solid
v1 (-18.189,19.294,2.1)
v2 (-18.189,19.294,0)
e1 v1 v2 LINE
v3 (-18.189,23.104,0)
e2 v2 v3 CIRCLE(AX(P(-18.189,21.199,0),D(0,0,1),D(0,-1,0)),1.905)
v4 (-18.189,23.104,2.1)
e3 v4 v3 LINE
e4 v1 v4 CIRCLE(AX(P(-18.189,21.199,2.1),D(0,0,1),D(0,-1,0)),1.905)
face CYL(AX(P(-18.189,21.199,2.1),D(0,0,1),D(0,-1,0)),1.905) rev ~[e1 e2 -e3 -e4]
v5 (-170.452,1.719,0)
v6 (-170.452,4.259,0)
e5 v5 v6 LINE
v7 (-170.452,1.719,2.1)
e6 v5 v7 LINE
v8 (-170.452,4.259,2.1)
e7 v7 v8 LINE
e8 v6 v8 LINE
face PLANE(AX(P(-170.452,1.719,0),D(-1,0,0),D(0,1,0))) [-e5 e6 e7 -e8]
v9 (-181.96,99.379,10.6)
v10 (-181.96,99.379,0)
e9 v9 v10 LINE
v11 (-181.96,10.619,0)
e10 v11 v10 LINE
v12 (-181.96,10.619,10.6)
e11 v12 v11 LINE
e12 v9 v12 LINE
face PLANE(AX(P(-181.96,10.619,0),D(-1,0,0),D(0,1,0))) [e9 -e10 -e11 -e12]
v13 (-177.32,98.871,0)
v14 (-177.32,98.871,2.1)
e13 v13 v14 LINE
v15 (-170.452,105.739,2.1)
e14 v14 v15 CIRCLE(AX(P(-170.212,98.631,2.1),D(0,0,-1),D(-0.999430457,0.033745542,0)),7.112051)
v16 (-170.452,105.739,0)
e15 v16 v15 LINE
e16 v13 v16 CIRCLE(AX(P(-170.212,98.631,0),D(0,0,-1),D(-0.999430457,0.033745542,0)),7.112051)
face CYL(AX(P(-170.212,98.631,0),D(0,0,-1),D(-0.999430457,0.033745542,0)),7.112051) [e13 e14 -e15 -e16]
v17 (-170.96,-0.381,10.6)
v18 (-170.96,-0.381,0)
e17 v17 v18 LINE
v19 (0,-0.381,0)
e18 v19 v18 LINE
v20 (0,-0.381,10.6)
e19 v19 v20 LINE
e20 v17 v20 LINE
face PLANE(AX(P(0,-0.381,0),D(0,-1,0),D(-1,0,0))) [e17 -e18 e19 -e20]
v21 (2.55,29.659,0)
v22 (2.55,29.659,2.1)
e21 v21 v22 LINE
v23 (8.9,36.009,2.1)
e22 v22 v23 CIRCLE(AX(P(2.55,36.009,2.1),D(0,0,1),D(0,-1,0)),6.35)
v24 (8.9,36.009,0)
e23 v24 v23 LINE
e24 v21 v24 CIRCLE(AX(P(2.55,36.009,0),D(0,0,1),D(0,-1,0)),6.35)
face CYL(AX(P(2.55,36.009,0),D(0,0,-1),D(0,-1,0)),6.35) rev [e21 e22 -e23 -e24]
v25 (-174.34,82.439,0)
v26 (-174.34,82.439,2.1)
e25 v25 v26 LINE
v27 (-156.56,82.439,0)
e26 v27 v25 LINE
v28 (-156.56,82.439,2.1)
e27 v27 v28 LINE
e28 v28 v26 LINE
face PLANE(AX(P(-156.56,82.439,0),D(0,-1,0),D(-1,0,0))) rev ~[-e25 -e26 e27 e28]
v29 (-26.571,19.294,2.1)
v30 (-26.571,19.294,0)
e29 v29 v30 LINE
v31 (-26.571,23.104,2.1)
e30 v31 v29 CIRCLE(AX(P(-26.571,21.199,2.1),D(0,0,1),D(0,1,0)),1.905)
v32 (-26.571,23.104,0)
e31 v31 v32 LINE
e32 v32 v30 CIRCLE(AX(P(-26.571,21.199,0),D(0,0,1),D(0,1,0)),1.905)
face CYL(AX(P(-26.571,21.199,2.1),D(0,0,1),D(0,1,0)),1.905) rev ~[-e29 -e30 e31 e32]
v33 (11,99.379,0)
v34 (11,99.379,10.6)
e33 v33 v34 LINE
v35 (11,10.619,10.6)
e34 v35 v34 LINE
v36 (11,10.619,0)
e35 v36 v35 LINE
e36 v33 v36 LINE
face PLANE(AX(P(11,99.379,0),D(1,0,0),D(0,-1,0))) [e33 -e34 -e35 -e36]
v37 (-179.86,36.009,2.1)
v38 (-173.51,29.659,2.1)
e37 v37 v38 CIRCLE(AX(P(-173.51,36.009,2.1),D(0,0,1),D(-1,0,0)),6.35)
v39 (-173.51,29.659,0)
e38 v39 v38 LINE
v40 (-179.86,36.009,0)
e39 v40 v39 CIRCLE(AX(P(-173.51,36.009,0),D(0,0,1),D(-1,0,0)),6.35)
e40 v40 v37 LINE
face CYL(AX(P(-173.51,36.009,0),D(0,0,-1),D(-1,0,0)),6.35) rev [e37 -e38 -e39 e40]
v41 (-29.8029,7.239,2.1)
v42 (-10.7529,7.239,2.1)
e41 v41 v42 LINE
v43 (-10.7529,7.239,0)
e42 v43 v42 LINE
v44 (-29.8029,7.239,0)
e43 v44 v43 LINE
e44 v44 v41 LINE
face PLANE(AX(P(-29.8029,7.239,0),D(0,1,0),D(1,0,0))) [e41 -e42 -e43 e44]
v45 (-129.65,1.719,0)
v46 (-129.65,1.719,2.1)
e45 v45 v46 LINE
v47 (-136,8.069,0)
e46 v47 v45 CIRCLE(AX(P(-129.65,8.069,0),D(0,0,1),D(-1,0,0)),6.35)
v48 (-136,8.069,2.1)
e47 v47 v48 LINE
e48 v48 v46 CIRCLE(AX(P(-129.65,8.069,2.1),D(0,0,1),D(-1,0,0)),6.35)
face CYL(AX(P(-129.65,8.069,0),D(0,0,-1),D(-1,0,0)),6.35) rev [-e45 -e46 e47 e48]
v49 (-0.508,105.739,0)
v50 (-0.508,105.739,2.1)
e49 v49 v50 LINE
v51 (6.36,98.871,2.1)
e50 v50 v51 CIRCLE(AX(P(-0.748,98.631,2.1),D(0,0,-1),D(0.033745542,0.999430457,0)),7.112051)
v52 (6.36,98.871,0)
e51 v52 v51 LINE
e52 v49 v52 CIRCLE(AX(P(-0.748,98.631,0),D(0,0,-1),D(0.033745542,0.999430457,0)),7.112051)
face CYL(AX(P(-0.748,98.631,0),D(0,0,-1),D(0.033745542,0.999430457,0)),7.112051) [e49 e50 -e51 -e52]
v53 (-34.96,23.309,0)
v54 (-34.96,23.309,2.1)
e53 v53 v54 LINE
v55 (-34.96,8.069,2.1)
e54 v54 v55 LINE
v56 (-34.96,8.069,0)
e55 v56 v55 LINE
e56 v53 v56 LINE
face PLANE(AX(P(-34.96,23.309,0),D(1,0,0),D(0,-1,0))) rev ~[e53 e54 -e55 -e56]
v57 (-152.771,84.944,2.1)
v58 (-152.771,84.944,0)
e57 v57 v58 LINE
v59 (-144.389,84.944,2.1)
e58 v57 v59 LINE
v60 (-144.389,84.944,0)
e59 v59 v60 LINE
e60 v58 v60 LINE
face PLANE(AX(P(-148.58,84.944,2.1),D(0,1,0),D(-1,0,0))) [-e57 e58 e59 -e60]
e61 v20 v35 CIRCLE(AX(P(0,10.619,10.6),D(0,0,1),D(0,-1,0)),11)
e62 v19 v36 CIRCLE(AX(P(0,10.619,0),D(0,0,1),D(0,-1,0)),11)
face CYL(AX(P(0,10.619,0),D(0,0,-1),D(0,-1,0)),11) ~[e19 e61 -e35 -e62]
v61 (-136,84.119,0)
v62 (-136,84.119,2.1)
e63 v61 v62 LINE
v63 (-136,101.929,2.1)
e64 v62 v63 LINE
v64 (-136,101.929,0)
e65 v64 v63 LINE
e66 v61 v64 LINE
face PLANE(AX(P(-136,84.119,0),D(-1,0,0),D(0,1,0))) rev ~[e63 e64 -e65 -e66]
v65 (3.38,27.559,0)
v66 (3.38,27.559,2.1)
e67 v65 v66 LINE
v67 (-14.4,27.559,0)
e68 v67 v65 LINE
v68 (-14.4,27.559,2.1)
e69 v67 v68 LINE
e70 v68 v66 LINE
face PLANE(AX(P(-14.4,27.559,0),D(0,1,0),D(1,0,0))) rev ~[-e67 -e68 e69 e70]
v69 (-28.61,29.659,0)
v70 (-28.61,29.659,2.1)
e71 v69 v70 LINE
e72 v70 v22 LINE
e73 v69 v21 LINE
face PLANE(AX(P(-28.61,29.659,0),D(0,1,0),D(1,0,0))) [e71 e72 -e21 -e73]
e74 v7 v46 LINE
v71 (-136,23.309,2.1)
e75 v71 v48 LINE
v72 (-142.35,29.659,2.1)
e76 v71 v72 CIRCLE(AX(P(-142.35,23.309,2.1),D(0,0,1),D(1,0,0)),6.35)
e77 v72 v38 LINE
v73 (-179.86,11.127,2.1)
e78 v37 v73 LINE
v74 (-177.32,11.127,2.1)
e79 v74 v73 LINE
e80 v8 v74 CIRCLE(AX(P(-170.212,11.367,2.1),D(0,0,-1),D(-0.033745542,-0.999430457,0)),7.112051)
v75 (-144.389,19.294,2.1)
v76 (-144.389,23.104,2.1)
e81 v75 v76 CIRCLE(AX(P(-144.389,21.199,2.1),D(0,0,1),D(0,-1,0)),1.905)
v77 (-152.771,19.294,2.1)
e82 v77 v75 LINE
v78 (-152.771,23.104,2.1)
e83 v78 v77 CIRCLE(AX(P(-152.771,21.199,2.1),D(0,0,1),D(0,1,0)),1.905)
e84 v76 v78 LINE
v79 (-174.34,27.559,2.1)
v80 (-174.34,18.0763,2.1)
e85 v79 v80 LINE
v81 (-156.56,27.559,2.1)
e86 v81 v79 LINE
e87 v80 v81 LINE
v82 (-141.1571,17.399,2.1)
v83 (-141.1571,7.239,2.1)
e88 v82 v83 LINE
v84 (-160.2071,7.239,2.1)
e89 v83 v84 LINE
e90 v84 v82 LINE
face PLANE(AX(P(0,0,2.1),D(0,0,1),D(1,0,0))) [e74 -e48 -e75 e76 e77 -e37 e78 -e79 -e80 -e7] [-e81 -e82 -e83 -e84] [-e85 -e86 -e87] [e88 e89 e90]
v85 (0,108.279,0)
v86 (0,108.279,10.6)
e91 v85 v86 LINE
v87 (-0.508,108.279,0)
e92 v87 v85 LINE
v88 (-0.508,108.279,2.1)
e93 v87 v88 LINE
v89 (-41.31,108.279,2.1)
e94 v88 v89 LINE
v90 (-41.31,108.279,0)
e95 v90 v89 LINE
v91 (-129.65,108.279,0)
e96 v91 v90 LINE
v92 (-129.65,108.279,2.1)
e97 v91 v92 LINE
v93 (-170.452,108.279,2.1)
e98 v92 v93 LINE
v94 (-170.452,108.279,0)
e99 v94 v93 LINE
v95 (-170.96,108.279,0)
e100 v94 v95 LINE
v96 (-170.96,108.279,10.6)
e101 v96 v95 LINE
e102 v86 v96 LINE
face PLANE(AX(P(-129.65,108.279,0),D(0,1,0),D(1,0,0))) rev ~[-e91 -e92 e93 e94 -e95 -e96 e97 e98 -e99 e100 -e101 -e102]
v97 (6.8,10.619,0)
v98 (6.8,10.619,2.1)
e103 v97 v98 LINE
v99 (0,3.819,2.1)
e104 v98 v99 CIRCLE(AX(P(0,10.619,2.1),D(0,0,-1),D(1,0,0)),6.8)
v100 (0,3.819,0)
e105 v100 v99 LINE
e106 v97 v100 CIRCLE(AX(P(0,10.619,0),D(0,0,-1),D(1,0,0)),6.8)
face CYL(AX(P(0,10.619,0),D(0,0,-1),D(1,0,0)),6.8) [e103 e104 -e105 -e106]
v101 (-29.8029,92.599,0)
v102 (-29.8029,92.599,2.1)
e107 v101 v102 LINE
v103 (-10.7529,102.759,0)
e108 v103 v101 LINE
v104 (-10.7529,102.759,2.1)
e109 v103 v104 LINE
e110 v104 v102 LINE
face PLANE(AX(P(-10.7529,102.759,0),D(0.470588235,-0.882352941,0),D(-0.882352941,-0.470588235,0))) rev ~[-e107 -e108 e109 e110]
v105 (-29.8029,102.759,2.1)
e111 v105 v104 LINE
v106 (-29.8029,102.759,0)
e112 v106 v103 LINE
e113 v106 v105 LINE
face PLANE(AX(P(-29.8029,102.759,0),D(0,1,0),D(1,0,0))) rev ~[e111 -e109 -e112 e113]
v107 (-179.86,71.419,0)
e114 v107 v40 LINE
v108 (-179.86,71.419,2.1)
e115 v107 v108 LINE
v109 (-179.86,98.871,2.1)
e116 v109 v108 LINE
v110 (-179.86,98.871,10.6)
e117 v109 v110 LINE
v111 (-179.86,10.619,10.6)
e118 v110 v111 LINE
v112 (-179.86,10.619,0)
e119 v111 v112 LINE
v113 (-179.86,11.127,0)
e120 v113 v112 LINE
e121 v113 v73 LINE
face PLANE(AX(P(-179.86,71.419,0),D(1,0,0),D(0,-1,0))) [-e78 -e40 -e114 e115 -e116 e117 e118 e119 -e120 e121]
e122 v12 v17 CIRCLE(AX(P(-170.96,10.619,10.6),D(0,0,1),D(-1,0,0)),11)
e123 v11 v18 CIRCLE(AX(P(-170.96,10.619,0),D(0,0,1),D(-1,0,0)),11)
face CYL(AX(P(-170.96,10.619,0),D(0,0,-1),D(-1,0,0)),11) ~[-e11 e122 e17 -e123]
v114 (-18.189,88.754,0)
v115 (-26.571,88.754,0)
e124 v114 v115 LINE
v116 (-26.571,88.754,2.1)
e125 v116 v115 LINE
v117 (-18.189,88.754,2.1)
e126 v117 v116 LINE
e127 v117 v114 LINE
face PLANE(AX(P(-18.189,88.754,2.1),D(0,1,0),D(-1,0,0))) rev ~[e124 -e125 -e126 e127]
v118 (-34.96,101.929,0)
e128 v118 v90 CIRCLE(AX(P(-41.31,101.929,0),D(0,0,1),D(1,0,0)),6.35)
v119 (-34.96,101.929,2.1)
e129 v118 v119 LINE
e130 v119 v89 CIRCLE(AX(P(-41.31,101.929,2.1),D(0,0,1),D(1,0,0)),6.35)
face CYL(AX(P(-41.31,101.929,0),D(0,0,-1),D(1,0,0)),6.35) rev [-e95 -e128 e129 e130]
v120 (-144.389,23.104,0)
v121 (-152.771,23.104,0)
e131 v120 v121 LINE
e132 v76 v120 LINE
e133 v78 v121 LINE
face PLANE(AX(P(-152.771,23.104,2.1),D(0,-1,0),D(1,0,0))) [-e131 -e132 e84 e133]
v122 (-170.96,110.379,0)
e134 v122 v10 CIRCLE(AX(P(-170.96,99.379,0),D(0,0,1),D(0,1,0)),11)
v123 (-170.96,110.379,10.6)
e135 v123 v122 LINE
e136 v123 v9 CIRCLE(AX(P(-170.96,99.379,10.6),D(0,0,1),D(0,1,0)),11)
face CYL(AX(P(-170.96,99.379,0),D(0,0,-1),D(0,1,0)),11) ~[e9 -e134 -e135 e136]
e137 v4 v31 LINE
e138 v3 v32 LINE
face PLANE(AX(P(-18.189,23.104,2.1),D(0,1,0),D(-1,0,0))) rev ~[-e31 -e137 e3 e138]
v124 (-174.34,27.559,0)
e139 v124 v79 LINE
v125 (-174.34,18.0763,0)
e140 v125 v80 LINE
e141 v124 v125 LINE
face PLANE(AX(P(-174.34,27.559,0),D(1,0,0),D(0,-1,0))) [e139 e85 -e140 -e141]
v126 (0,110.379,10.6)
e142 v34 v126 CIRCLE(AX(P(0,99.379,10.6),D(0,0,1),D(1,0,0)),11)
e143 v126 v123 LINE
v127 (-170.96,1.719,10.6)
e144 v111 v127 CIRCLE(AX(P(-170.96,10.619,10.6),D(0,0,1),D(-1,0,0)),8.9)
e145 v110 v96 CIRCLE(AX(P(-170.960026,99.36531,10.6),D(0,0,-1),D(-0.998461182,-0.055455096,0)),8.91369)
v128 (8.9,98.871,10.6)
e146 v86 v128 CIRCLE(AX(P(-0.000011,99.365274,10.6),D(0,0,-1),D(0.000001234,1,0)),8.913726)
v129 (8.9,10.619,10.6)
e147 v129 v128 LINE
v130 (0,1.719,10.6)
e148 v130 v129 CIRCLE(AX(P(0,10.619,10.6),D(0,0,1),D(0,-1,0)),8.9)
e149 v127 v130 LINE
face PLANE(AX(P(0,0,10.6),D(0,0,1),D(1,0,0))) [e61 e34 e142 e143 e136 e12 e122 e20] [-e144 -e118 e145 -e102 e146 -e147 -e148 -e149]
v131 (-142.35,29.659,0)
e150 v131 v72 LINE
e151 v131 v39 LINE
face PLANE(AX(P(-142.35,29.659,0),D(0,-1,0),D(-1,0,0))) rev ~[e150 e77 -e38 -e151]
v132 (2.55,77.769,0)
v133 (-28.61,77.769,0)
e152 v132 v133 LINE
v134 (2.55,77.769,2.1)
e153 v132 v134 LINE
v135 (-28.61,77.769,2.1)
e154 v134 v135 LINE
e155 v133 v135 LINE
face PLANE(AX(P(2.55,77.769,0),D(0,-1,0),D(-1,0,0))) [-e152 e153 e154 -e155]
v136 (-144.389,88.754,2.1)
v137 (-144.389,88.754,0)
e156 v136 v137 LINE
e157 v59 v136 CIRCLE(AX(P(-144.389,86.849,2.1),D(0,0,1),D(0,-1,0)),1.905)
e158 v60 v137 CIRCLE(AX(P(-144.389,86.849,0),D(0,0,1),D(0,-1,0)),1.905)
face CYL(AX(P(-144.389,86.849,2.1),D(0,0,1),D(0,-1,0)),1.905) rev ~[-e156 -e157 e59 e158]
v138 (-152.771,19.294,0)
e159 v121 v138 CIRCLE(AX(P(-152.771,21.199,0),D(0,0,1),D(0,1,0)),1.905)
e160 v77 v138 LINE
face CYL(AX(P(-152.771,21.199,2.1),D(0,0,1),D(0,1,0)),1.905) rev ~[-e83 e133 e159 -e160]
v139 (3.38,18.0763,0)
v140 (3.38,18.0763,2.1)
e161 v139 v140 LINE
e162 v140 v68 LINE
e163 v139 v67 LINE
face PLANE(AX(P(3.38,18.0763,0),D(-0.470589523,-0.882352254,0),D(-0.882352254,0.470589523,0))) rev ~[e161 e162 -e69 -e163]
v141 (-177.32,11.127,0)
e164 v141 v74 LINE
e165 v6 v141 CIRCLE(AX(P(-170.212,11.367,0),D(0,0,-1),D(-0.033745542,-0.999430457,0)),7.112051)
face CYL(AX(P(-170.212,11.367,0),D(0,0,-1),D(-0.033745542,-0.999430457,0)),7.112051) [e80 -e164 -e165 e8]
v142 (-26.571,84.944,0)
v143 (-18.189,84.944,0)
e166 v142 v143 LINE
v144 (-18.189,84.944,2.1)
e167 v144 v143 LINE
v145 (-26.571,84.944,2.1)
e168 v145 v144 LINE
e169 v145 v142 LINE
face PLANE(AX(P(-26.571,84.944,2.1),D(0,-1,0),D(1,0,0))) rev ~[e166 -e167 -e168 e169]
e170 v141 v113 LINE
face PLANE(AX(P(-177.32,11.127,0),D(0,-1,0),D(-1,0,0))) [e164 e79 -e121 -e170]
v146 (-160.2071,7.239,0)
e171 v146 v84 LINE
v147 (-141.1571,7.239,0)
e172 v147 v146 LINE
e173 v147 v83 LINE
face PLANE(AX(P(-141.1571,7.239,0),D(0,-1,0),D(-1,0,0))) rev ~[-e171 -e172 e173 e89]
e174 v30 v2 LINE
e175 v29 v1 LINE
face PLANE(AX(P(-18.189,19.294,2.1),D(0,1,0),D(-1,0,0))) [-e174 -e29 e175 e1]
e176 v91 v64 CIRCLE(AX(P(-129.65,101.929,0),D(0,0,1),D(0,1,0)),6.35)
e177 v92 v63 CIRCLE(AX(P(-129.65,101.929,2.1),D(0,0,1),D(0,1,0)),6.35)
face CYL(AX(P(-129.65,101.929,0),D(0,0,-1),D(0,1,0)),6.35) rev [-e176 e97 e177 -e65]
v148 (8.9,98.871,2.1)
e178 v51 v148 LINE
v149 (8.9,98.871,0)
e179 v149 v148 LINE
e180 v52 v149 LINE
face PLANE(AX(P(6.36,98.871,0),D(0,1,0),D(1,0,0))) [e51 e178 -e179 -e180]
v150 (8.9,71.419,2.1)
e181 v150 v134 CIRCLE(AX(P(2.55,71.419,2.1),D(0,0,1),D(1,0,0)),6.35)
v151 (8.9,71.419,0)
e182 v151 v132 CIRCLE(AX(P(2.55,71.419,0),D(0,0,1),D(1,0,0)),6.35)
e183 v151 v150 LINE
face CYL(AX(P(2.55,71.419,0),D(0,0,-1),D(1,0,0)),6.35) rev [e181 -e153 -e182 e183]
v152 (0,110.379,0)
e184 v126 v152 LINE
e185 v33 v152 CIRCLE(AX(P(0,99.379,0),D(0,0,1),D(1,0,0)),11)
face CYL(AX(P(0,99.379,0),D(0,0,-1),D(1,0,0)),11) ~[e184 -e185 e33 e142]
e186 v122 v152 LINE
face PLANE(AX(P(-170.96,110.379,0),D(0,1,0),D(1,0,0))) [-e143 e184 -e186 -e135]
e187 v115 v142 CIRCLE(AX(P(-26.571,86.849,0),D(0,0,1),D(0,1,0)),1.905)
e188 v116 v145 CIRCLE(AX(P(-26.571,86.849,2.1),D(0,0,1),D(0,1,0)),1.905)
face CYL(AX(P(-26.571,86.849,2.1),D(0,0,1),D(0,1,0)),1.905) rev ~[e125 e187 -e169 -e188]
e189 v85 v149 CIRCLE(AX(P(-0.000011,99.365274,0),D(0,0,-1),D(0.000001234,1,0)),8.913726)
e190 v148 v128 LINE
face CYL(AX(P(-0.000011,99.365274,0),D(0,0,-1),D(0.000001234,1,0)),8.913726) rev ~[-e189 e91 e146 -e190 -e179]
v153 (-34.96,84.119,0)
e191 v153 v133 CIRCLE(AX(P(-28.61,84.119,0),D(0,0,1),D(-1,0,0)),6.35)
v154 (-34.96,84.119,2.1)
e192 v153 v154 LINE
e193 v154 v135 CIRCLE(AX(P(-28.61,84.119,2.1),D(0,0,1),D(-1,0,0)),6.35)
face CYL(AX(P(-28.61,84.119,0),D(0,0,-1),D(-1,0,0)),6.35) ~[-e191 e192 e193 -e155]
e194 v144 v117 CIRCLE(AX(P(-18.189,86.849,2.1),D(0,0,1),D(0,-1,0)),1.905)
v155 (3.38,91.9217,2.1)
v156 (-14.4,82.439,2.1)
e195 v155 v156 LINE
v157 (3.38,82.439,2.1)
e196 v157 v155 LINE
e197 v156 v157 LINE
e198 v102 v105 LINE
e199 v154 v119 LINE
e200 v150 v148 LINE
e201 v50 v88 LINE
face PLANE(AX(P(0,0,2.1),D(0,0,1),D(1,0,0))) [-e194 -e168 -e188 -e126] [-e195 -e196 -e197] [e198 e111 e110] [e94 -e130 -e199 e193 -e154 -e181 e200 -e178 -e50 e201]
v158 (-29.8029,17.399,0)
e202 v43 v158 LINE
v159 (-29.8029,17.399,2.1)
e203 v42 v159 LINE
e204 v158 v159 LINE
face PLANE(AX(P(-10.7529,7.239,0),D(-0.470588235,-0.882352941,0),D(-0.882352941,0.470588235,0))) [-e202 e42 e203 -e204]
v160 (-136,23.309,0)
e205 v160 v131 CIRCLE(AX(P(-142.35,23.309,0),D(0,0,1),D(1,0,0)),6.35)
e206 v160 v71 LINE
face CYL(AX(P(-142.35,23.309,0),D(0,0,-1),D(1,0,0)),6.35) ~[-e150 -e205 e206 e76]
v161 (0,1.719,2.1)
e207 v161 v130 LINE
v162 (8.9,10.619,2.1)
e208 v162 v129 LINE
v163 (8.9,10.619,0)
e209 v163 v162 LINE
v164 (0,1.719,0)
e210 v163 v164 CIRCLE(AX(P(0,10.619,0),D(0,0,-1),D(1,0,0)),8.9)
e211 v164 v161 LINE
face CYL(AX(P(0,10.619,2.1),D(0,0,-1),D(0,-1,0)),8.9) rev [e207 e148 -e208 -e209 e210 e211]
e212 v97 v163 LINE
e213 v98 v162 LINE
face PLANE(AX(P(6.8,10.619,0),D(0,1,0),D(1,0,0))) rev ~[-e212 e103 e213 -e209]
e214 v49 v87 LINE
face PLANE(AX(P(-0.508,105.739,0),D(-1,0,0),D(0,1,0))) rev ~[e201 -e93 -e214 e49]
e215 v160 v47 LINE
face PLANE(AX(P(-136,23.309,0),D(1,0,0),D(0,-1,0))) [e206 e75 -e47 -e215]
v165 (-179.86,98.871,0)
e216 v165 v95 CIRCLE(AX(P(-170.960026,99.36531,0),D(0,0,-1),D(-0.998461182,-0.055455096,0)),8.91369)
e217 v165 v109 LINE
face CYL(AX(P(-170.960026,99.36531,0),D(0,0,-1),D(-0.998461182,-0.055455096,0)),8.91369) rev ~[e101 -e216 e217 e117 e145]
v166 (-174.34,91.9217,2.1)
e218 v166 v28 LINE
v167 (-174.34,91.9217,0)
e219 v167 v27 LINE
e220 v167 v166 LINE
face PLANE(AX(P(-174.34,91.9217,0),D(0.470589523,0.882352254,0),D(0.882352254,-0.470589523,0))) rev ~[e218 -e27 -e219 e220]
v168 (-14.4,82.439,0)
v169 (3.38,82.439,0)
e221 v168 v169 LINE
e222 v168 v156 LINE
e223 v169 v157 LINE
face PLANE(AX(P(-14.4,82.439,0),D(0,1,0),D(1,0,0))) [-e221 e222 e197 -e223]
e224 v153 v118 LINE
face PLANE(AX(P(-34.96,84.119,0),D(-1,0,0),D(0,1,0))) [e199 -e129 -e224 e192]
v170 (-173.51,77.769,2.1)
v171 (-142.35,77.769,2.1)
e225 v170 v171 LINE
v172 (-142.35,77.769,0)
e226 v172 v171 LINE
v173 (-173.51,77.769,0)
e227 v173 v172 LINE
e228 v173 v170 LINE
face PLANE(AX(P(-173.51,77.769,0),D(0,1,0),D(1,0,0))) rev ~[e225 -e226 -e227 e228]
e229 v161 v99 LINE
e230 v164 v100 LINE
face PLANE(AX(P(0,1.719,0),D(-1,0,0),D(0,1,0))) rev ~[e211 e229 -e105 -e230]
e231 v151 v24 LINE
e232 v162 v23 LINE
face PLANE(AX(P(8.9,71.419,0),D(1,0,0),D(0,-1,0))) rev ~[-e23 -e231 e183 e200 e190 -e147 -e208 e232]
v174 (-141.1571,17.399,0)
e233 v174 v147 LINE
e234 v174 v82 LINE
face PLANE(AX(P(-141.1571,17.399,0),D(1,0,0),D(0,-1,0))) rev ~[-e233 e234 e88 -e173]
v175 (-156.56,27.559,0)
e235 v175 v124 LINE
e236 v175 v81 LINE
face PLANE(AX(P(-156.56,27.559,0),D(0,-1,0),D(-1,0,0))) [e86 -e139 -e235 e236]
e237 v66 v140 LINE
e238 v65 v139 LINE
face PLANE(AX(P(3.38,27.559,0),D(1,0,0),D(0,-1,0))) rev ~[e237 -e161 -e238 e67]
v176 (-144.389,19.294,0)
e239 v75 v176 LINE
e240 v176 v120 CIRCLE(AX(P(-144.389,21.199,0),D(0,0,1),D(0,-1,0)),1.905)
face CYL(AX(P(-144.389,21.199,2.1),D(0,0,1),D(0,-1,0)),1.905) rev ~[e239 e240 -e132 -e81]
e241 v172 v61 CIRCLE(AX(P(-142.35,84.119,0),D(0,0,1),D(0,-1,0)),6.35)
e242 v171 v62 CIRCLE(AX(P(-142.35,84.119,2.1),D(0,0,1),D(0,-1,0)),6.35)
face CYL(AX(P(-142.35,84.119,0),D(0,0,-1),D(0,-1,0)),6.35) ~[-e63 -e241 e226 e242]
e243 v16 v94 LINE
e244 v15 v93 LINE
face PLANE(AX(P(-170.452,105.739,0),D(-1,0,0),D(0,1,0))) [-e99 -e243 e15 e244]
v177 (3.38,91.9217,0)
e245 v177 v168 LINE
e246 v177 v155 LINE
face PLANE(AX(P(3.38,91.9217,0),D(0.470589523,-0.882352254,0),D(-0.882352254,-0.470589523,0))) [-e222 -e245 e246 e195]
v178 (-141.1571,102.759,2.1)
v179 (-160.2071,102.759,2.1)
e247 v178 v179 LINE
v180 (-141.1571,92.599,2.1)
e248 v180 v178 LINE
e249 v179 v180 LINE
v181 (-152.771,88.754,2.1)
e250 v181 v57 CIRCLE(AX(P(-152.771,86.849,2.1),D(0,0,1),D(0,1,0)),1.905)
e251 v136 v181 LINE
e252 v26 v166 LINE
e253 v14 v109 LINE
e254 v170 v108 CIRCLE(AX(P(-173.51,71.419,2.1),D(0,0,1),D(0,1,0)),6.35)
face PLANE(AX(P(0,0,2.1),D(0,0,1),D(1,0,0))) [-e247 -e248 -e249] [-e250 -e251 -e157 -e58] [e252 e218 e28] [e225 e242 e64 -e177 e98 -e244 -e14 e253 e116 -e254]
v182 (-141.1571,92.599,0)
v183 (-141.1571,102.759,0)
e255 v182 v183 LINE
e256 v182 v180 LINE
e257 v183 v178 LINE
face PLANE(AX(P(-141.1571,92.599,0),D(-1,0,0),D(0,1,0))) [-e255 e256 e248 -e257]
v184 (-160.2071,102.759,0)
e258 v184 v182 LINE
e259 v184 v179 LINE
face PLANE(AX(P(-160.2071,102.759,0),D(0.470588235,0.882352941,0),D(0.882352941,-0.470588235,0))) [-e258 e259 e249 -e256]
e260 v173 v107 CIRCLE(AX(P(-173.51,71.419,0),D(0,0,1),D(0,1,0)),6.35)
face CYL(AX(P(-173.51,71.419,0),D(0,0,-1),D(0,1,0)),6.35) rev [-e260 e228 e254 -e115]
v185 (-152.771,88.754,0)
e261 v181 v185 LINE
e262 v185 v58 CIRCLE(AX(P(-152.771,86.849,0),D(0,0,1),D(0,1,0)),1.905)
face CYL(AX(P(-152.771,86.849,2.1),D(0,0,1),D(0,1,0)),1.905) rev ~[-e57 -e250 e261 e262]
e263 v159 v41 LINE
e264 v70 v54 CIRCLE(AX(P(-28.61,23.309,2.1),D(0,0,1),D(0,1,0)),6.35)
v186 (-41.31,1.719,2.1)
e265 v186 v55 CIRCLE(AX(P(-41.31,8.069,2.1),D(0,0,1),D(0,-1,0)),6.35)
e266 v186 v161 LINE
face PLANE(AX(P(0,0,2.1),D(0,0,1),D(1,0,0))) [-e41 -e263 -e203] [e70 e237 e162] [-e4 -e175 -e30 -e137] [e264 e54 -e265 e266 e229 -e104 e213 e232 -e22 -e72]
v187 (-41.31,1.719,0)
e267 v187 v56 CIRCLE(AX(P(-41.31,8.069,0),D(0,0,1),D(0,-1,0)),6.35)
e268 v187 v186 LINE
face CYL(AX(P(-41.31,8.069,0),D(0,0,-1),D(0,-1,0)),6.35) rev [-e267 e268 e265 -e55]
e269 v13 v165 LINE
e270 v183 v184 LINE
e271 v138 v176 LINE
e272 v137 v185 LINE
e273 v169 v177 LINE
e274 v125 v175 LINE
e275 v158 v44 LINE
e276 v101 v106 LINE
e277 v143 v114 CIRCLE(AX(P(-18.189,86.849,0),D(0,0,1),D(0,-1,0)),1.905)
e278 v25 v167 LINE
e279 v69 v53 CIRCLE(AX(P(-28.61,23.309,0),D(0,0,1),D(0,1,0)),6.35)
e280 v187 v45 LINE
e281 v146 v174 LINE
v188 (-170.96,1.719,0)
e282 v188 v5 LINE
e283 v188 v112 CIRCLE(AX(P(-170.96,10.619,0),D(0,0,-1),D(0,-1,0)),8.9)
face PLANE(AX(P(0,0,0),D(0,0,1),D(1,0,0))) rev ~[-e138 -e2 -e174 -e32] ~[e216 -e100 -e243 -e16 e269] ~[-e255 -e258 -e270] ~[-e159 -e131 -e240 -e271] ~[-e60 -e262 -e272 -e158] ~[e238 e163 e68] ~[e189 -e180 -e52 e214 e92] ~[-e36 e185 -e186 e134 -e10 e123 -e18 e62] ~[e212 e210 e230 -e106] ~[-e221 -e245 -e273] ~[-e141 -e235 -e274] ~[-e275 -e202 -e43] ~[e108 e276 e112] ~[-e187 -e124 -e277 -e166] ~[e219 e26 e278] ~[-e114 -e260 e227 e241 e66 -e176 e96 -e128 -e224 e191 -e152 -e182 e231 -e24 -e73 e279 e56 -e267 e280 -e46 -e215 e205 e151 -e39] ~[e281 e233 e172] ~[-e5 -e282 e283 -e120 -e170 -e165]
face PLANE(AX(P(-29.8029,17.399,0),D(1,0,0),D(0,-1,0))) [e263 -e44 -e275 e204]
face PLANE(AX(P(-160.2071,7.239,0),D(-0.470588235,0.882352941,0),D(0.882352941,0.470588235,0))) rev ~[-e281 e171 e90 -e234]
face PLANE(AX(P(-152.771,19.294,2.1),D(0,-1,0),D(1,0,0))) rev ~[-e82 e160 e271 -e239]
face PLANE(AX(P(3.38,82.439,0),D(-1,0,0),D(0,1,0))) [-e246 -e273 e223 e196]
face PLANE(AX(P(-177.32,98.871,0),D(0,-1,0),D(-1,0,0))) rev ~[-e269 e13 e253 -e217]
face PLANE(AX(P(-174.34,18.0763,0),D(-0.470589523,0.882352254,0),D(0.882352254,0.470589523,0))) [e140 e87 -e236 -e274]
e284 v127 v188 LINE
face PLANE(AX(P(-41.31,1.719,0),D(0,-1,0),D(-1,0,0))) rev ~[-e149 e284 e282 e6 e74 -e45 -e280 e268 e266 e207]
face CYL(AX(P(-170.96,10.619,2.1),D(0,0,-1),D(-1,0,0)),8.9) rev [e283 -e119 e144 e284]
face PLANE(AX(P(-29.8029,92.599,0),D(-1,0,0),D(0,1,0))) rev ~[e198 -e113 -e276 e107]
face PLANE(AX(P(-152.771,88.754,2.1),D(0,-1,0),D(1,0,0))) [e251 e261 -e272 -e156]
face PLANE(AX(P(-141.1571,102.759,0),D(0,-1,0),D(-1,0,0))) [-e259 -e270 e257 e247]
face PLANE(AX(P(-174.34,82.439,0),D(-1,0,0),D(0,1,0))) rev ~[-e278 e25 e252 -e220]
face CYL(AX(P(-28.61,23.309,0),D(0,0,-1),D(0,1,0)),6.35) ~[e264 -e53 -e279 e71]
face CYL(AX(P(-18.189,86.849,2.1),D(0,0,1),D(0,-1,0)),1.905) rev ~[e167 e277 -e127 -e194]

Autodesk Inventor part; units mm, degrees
ref_plane "YZ Plane" through (0, 0, 0) normal (1, 0, 0) x (0, 1, 0)
ref_plane "XZ Plane" through (0, 0, 0) normal (0, 1, 0) x (-1, 0, 0)
ref_plane "XY Plane" through (0, 0, 0) normal (0, 0, 1) x (1, 0, 0)
sketch "Sketch1" plane through (0, 0, 0) normal (0, 0, 1) x (1, 0, 0)
  arc A0 (0, -0.381) -> (11, 10.619) centre (0, 10.619) ccw projected
  line L0 (11, 99.379) -> (11, 10.619) projected
  line L1 (0, -0.381) -> (-170.96, -0.381) projected
  arc A1 (11, 99.379) -> (0, 110.379) centre (0, 99.379) ccw projected
  line L2 (-170.96, 110.379) -> (0, 110.379) projected
  arc A2 (-170.96, 110.379) -> (-181.96, 99.379) centre (-170.96, 99.379) ccw projected
  line L3 (-181.96, 10.619) -> (-181.96, 99.379) projected
  arc A3 (-181.96, 10.619) -> (-170.96, -0.381) centre (-170.96, 10.619) ccw projected
  circle A4 centre (-22.38, 21.199) radius 1.5 projected
  circle A5 centre (-148.58, 21.199) radius 1.5 projected
  circle A6 centre (-148.58, 86.849) radius 1.5 projected
  circle A7 centre (-22.38, 86.849) radius 1.5 projected
  circle A8 centre (-22.38, 21.199) radius 1.905
  circle A9 centre (-22.38, 86.849) radius 1.905
  line L4 (-41.31, 1.719) -> (-129.65, 1.719)
  line L5 (-129.65, 108.279) -> (-41.31, 108.279)
  line L6 (8.9, 71.419) -> (8.9, 36.009)
  line L7 (-34.96, 23.309) -> (-34.96, 8.069)
  line L8 (-28.61, 29.659) -> (2.55, 29.659)
  arc A10 (-28.61, 29.659) -> (-34.96, 23.309) centre (-28.61, 23.309) ccw
  line L9 (2.55, 77.769) -> (-28.61, 77.769)
  line L10 (-34.96, 84.119) -> (-34.96, 101.929)
  arc A11 (-34.96, 84.119) -> (-28.61, 77.769) centre (-28.61, 84.119) ccw
  arc A12 (2.55, 29.659) -> (8.9, 36.009) centre (2.55, 36.009) ccw
  arc A13 (-41.31, 1.719) -> (-34.96, 8.069) centre (-41.31, 8.069) ccw
  arc A14 (-34.96, 101.929) -> (-41.31, 108.279) centre (-41.31, 101.929) ccw
  arc A15 (8.9, 71.419) -> (2.55, 77.769) centre (2.55, 71.419) ccw
  line L11 (-29.88, 25.199) -> (-29.88, 17.199) projected
  line L12 (-14.88, 25.199) -> (-29.88, 25.199) projected
  line L13 (-29.88, 82.849) -> (-14.88, 82.849) projected
  line L14 (-29.88, 90.849) -> (-29.88, 82.849) projected
  circle A16 centre (-148.58, 21.199) radius 1.905
  circle A17 centre (-148.58, 86.849) radius 1.905
  line L15 (-179.86, 71.419) -> (-179.86, 36.009)
  line L16 (-136, 23.309) -> (-136, 8.069)
  line L17 (-142.35, 29.659) -> (-173.51, 29.659)
  arc A18 (-136, 23.309) -> (-142.35, 29.659) centre (-142.35, 23.309) ccw
  line L18 (-173.51, 77.769) -> (-142.35, 77.769)
  line L19 (-136, 84.119) -> (-136, 101.929)
  arc A19 (-142.35, 77.769) -> (-136, 84.119) centre (-142.35, 84.119) ccw
  arc A20 (-179.86, 36.009) -> (-173.51, 29.659) centre (-173.51, 36.009) ccw
  arc A21 (-136, 8.069) -> (-129.65, 1.719) centre (-129.65, 8.069) ccw
  arc A22 (-129.65, 108.279) -> (-136, 101.929) centre (-129.65, 101.929) ccw
  arc A23 (-173.51, 77.769) -> (-179.86, 71.419) centre (-173.51, 71.419) ccw
  point P0 (0, 0)
  point P1 (-34.96, 1.719)
  point P2 (8.9, 29.659)
  point P3 (8.9, 77.769)
  point P4 (-34.96, 77.769)
  point P5 (-34.96, 108.279)
  dimension "d1" = 23.53
  dimension "d2" = 3.81
  dimension "d5" = 3.81
  dimension "d16" = 27.94
  dimension "d18" = 6.35
  dimension "d21" = 6.35
  dimension "d22" = 6.35
  dimension "d23" = 2.1
  dimension "d24" = 2.1
  dimension "d25" = 2.1
  dimension "d33" = 5.08
  dimension "d34" = 5.08
  dimension "d35" = 5.08
  dimension "d36" = 6.35
  dimension "d37" = 6.35
extrude "Extrusion3" add sketch "Sketch1" along normal blind 2.1 contours L1 A3 L3 A2 L2 A1 L0 A0
sketch "Sketch4" plane through (0, 0, 2.1) normal (0, 0, 1) x (1, 0, 0)
  arc A0 (-28.61, 29.659) -> (-34.96, 23.309) centre (-28.61, 23.309) ccw projected
  line L0 (-34.96, 23.309) -> (-34.96, 8.069) projected
  arc A1 (-41.31, 1.719) -> (-34.96, 8.069) centre (-41.31, 8.069) ccw projected
  line L1 (-41.31, 1.719) -> (-129.65, 1.719) projected
  arc A2 (-136, 8.069) -> (-129.65, 1.719) centre (-129.65, 8.069) ccw projected
  line L2 (-136, 8.069) -> (-136, 23.309) projected
  arc A3 (-136, 23.309) -> (-142.35, 29.659) centre (-142.35, 23.309) ccw projected
  line L3 (-142.35, 29.659) -> (-173.51, 29.659) projected
  arc A4 (-179.86, 36.009) -> (-173.51, 29.659) centre (-173.51, 36.009) ccw projected
  line L4 (-179.86, 36.009) -> (-179.86, 71.419) projected
  arc A5 (-173.51, 77.769) -> (-179.86, 71.419) centre (-173.51, 71.419) ccw projected
  line L5 (-173.51, 77.769) -> (-142.35, 77.769) projected
  arc A6 (-142.35, 77.769) -> (-136, 84.119) centre (-142.35, 84.119) ccw projected
  line L6 (-136, 84.119) -> (-136, 101.929) projected
  arc A7 (-129.65, 108.279) -> (-136, 101.929) centre (-129.65, 101.929) ccw projected
  line L7 (-129.65, 108.279) -> (-41.31, 108.279) projected
  arc A8 (-34.96, 101.929) -> (-41.31, 108.279) centre (-41.31, 101.929) ccw projected
  line L8 (-34.96, 101.929) -> (-34.96, 84.119) projected
  arc A9 (-34.96, 84.119) -> (-28.61, 77.769) centre (-28.61, 84.119) ccw projected
  line L9 (-28.61, 77.769) -> (2.55, 77.769) projected
  arc A10 (8.9, 71.419) -> (2.55, 77.769) centre (2.55, 71.419) ccw projected
  line L10 (8.9, 71.419) -> (8.9, 36.009) projected
  arc A11 (2.55, 29.659) -> (8.9, 36.009) centre (2.55, 36.009) ccw projected
  line L11 (2.55, 29.659) -> (-28.61, 29.659) projected
  circle A12 centre (-148.58, 86.849) radius 1.905 projected
  circle A13 centre (-148.58, 21.199) radius 1.905 projected
  circle A14 centre (-22.38, 86.849) radius 1.905 projected
  circle A15 centre (-22.38, 21.199) radius 1.905 projected
  arc A16 (0, -0.381) -> (11, 10.619) centre (0, 10.619) ccw projected
  line L12 (11, 10.619) -> (11, 99.379) projected
  arc A17 (11, 99.379) -> (0, 110.379) centre (0, 99.379) ccw projected
  line L13 (0, 110.379) -> (-170.96, 110.379) projected
  arc A18 (-170.96, 110.379) -> (-181.96, 99.379) centre (-170.96, 99.379) ccw projected
  line L14 (-181.96, 99.379) -> (-181.96, 10.619) projected
  arc A19 (-181.96, 10.619) -> (-170.96, -0.381) centre (-170.96, 10.619) ccw projected
  line L15 (-170.96, -0.381) -> (0, -0.381) projected
  arc A20 (0, 1.719) -> (8.9, 10.619) centre (0, 10.619) ccw
  line L16 (8.9, 10.619) -> (8.9, 99.379)
  arc A21 (8.9, 99.379) -> (0, 108.279) centre (0, 99.379) ccw
  line L17 (0, 108.279) -> (-170.96, 108.279)
  arc A22 (-170.96, 108.279) -> (-179.86, 99.379) centre (-170.96, 99.379) ccw
  line L18 (-179.86, 99.379) -> (-179.86, 10.619)
  arc A23 (-179.86, 10.619) -> (-170.96, 1.719) centre (-170.96, 10.619) ccw
  line L19 (-170.96, 1.719) -> (0, 1.719)
  point P0 (0, 0)
  dimension "d40" = 2.1
extrude "Extrusion4" add sketch "Sketch4" along normal blind 8.5 contours L15 A19 L14 A18 L13 A17 L12 A16
ref_plane "Work Plane1" through (-85.48, 10.619, 10.6) normal (-1, 0, 0) x (0, 0, 1)
ref_plane "Work Plane2" through (-170.96, 54.999, 10.6) normal (0, -1, 0) x (1, 0, 0)
sketch "Sketch9" plane through (0, 0, 0) normal (0, 0, -1) x (-1, 0, 0)
  arc A0 (-8.9, 10.619) -> (0, 1.719) centre (0, 10.619) ccw projected
  arc A1 (-6.8, 10.619) -> (0, 3.819) centre (0, 10.619) ccw projected
  line L0 (0, 1.719) -> (0, 3.819) projected
  line L1 (-6.8, 10.619) -> (-8.9, 10.619) projected
  arc A2 (170.96, 1.719) -> (179.86, 10.619) centre (170.96, 10.619) ccw projected
  arc A3 (170.96, 3.819) -> (177.76, 10.619) centre (170.96, 10.619) ccw projected
  line L2 (170.96, 3.819) -> (170.96, 1.719) projected
  line L3 (179.86, 10.619) -> (177.76, 10.619) projected
  arc A4 (179.86, 99.379) -> (170.96, 108.279) centre (170.96, 99.379) ccw projected
  arc A5 (177.76, 99.379) -> (170.96, 106.179) centre (170.96, 99.379) ccw projected
  line L4 (177.76, 99.379) -> (179.86, 99.379) projected
  line L5 (170.96, 108.279) -> (170.96, 106.179) projected
  arc A6 (0, 106.179) -> (-6.8, 99.379) centre (0, 99.379) ccw projected
  arc A7 (0, 108.279) -> (-8.9, 99.379) centre (0, 99.379) ccw projected
  line L6 (-8.9, 99.379) -> (-6.8, 99.379) projected
  line L7 (0, 106.179) -> (0, 108.279) projected
  line L8 (170.96, 1.719) -> (0, 1.719) projected
  line L9 (0.508, 1.719) -> (0, 1.719)
  line L10 (-6.36, 11.127) -> (-8.9, 11.127)
  line L11 (-8.9, 11.127) -> (-8.9, 10.619)
  line L12 (0.508, 1.719) -> (0.508, 4.259)
  arc A8 (-6.36, 11.127) -> (0.508, 4.259) centre (0.748, 11.367) ccw
  arc A9 (-8.9, 10.619) -> (0, 1.719) centre (0, 10.619) ccw
  line L13 (-6.36, 98.871) -> (-8.9, 98.871)
  line L14 (-8.9, 99.379) -> (-8.9, 10.619) projected
  line L15 (0.508, 105.739) -> (0.508, 108.279)
  line L16 (0.508, 108.279) -> (0, 108.279)
  arc A10 (0, 108.279) -> (-8.9, 98.871) centre (0, 99.3653) ccw
  arc A11 (0.508, 105.739) -> (-6.36, 98.871) centre (0.748, 98.631) ccw
  line L17 (0, -0.381) -> (170.96, -0.381) projected
  line L18 (85.48, -0.381) -> (85.48, 110.379)
  line L19 (170.96, 110.379) -> (0, 110.379) projected
  arc A12 (170.96, 1.719) -> (179.86, 10.619) centre (170.96, 10.619) ccw
  line L20 (170.452, 1.719) -> (170.96, 1.719)
  line L21 (177.32, 11.127) -> (179.86, 11.127)
  line L22 (170.452, 1.719) -> (170.452, 4.259)
  arc A13 (170.452, 4.259) -> (177.32, 11.127) centre (170.212, 11.367) ccw
  line L23 (177.32, 98.871) -> (179.86, 98.871)
  line L24 (179.86, 99.379) -> (179.86, 10.619)
  line L25 (170.452, 105.739) -> (170.452, 108.279)
  line L26 (170.452, 108.279) -> (170.96, 108.279)
  arc A14 (179.86, 98.871) -> (170.96, 108.279) centre (170.96, 99.3653) ccw
  arc A15 (177.32, 98.871) -> (170.452, 105.739) centre (170.212, 98.631) ccw
  point P0 (0, 0)
  point P1 (17.526, 1.719)
  dimension "d73" = 0.508
  dimension "d74" = 0.508
  dimension "d75" = 2.54
  dimension "d76" = 2.54
  dimension "d77" = 7.112
  dimension "d78" = 2.54
  dimension "d79" = 2.54
  dimension "d80" = 0.508
  dimension "d81" = 0.508
  dimension "d82" = 7.112
extrude "Extrusion7" cut sketch "Sketch9" against normal up to next contours L1 A1 L0 A0 | L7 A6 L6 A7 | A10 L16 L15 A11 L13 | L23 A15 L25 L26 L5 A5 L4 L24 | L24 A4 A14 | L22 A13 L21 L24 L3 A3 L2 L8 | L2 A3 L3 A2 | L4 A5 L5 A4
sketch "Sketch10" plane through (0, 0, 0) normal (0, 0, -1) x (-1, 0, 0)
  line L0 (-3.38, 18.0763) -> (14.4, 27.559)
  line L1 (14.4, 27.559) -> (-3.38, 27.559)
  line L2 (-3.38, 27.559) -> (-3.38, 18.0763)
  line L3 (10.7529, 7.239) -> (29.8029, 17.399)
  line L4 (29.8029, 17.399) -> (29.8029, 7.239)
  line L5 (29.8029, 7.239) -> (10.7529, 7.239)
  line L6 (0, -0.381) -> (170.96, -0.381) projected
  line L7 (-11, 99.379) -> (-11, 10.619) projected
  line L8 (181.96, 99.379) -> (181.96, 10.619) projected
  line L9 (181.96, 54.999) -> (-11, 54.999)
  line L10 (-11, 10.619) -> (-11, 99.379) projected
  line L11 (85.48, -0.381) -> (85.48, 110.379)
  line L12 (0, 110.379) -> (170.96, 110.379) projected
  line L13 (174.34, 18.0763) -> (156.56, 27.559)
  line L14 (156.56, 27.559) -> (174.34, 27.559)
  line L15 (174.34, 27.559) -> (174.34, 18.0763)
  line L16 (160.2071, 7.239) -> (141.1571, 17.399)
  line L17 (141.1571, 17.399) -> (141.1571, 7.239)
  line L18 (141.1571, 7.239) -> (160.2071, 7.239)
  line L19 (-3.38, 91.9217) -> (14.4, 82.439)
  line L20 (14.4, 82.439) -> (-3.38, 82.439)
  line L21 (-3.38, 82.439) -> (-3.38, 91.9217)
  line L22 (10.7529, 102.759) -> (29.8029, 92.599)
  line L23 (29.8029, 92.599) -> (29.8029, 102.759)
  line L24 (29.8029, 102.759) -> (10.7529, 102.759)
  line L25 (141.1571, 102.759) -> (160.2071, 102.759)
  line L26 (141.1571, 92.599) -> (141.1571, 102.759)
  line L27 (160.2071, 102.759) -> (141.1571, 92.599)
  line L28 (174.34, 91.9217) -> (156.56, 82.439)
  line L29 (156.56, 82.439) -> (174.34, 82.439)
  line L30 (174.34, 82.439) -> (174.34, 91.9217)
  point P0 (0, 0)
  point P1 (-11, 19.255)
  dimension "d85" = 17.78
  dimension "d86" = 19.05
  dimension "d87" = 10.16
  dimension "d88" = 7.62
  dimension "d89" = 7.62
  dimension "d102" = 27.94
extrude "Extrusion8" cut sketch "Sketch10" against normal up to next
sketch "Sketch11" plane through (0, 0, 2.1) normal (0, 0, 1) x (1, 0, 0)
  arc A0 (-144.389, 84.944) -> (-144.389, 88.754) centre (-144.389, 86.849) ccw
  circle A1 centre (-148.58, 86.849) radius 1.905 projected
  arc A2 (-152.771, 88.754) -> (-152.771, 84.944) centre (-152.771, 86.849) ccw
  line L0 (-152.771, 88.754) -> (-144.389, 88.754)
  line L1 (-144.389, 84.944) -> (-152.771, 84.944)
  circle A3 centre (-148.58, 21.199) radius 1.905 projected
  arc A4 (-144.389, 19.294) -> (-144.389, 23.104) centre (-144.389, 21.199) ccw
  arc A5 (-152.771, 23.104) -> (-152.771, 19.294) centre (-152.771, 21.199) ccw
  line L2 (-152.771, 23.104) -> (-144.389, 23.104)
  line L3 (-152.771, 19.294) -> (-144.389, 19.294)
  line L4 (-85.48, -22.533) -> (-85.48, 132.531) projected
  arc A6 (-26.571, 88.754) -> (-26.571, 84.944) centre (-26.571, 86.849) ccw
  arc A7 (-18.189, 84.944) -> (-18.189, 88.754) centre (-18.189, 86.849) ccw
  line L5 (-18.189, 88.754) -> (-26.571, 88.754)
  line L6 (-26.571, 84.944) -> (-18.189, 84.944)
  arc A8 (-26.571, 23.104) -> (-26.571, 19.294) centre (-26.571, 21.199) ccw
  arc A9 (-18.189, 19.294) -> (-18.189, 23.104) centre (-18.189, 21.199) ccw
  line L7 (-18.189, 23.104) -> (-26.571, 23.104)
  line L8 (-18.189, 19.294) -> (-26.571, 19.294)
  point P0 (0, 0)
  point P1 (-148.58, 88.754)
  point P2 (-148.58, 23.104)
  dimension "d92" = 3.81
  dimension "d93" = 1.905
  dimension "d94" = 1.905
  dimension "d96" = 8.382
  dimension "d97" = 1.905
  dimension "d98" = 1.905
  dimension "d101" = 8.382
extrude "Extrusion9" cut sketch "Sketch11" against normal up to next contours L1 A1 L0 A0 | L1 A2 L0 A1 | A3 L2 A4 L3 | A3 L3 A5 L2 | L5 A7 L6 A6 | L7 A9 L8 A8
equation "\"d24\" = d23"
equation "\"d25\" = d23"
equation "\"d36\" = d22"
equation "\"d37\" = d22"
equation "\"d74\" = d73"
equation "\"d76\" = d75"
equation "\"d78\" = d75"
equation "\"d79\" = d78"
equation "\"d80\" = d74"
equation "\"d81\" = d80"
equation "\"d82\" = d77"
equation "\"d93\" = 0.5 * d92"
equation "\"d94\" = 0.5 * d95"
equation "\"d97\" = d93"
equation "\"d98\" = d99"
equation "\"d101\" = d96"
equation "\"d99\" = 0.5 * d100"
equation "\"d95\" = 3.81"
equation "\"d100\" = 3.81"
properties part number "Hub Enclosure Front (new)"
